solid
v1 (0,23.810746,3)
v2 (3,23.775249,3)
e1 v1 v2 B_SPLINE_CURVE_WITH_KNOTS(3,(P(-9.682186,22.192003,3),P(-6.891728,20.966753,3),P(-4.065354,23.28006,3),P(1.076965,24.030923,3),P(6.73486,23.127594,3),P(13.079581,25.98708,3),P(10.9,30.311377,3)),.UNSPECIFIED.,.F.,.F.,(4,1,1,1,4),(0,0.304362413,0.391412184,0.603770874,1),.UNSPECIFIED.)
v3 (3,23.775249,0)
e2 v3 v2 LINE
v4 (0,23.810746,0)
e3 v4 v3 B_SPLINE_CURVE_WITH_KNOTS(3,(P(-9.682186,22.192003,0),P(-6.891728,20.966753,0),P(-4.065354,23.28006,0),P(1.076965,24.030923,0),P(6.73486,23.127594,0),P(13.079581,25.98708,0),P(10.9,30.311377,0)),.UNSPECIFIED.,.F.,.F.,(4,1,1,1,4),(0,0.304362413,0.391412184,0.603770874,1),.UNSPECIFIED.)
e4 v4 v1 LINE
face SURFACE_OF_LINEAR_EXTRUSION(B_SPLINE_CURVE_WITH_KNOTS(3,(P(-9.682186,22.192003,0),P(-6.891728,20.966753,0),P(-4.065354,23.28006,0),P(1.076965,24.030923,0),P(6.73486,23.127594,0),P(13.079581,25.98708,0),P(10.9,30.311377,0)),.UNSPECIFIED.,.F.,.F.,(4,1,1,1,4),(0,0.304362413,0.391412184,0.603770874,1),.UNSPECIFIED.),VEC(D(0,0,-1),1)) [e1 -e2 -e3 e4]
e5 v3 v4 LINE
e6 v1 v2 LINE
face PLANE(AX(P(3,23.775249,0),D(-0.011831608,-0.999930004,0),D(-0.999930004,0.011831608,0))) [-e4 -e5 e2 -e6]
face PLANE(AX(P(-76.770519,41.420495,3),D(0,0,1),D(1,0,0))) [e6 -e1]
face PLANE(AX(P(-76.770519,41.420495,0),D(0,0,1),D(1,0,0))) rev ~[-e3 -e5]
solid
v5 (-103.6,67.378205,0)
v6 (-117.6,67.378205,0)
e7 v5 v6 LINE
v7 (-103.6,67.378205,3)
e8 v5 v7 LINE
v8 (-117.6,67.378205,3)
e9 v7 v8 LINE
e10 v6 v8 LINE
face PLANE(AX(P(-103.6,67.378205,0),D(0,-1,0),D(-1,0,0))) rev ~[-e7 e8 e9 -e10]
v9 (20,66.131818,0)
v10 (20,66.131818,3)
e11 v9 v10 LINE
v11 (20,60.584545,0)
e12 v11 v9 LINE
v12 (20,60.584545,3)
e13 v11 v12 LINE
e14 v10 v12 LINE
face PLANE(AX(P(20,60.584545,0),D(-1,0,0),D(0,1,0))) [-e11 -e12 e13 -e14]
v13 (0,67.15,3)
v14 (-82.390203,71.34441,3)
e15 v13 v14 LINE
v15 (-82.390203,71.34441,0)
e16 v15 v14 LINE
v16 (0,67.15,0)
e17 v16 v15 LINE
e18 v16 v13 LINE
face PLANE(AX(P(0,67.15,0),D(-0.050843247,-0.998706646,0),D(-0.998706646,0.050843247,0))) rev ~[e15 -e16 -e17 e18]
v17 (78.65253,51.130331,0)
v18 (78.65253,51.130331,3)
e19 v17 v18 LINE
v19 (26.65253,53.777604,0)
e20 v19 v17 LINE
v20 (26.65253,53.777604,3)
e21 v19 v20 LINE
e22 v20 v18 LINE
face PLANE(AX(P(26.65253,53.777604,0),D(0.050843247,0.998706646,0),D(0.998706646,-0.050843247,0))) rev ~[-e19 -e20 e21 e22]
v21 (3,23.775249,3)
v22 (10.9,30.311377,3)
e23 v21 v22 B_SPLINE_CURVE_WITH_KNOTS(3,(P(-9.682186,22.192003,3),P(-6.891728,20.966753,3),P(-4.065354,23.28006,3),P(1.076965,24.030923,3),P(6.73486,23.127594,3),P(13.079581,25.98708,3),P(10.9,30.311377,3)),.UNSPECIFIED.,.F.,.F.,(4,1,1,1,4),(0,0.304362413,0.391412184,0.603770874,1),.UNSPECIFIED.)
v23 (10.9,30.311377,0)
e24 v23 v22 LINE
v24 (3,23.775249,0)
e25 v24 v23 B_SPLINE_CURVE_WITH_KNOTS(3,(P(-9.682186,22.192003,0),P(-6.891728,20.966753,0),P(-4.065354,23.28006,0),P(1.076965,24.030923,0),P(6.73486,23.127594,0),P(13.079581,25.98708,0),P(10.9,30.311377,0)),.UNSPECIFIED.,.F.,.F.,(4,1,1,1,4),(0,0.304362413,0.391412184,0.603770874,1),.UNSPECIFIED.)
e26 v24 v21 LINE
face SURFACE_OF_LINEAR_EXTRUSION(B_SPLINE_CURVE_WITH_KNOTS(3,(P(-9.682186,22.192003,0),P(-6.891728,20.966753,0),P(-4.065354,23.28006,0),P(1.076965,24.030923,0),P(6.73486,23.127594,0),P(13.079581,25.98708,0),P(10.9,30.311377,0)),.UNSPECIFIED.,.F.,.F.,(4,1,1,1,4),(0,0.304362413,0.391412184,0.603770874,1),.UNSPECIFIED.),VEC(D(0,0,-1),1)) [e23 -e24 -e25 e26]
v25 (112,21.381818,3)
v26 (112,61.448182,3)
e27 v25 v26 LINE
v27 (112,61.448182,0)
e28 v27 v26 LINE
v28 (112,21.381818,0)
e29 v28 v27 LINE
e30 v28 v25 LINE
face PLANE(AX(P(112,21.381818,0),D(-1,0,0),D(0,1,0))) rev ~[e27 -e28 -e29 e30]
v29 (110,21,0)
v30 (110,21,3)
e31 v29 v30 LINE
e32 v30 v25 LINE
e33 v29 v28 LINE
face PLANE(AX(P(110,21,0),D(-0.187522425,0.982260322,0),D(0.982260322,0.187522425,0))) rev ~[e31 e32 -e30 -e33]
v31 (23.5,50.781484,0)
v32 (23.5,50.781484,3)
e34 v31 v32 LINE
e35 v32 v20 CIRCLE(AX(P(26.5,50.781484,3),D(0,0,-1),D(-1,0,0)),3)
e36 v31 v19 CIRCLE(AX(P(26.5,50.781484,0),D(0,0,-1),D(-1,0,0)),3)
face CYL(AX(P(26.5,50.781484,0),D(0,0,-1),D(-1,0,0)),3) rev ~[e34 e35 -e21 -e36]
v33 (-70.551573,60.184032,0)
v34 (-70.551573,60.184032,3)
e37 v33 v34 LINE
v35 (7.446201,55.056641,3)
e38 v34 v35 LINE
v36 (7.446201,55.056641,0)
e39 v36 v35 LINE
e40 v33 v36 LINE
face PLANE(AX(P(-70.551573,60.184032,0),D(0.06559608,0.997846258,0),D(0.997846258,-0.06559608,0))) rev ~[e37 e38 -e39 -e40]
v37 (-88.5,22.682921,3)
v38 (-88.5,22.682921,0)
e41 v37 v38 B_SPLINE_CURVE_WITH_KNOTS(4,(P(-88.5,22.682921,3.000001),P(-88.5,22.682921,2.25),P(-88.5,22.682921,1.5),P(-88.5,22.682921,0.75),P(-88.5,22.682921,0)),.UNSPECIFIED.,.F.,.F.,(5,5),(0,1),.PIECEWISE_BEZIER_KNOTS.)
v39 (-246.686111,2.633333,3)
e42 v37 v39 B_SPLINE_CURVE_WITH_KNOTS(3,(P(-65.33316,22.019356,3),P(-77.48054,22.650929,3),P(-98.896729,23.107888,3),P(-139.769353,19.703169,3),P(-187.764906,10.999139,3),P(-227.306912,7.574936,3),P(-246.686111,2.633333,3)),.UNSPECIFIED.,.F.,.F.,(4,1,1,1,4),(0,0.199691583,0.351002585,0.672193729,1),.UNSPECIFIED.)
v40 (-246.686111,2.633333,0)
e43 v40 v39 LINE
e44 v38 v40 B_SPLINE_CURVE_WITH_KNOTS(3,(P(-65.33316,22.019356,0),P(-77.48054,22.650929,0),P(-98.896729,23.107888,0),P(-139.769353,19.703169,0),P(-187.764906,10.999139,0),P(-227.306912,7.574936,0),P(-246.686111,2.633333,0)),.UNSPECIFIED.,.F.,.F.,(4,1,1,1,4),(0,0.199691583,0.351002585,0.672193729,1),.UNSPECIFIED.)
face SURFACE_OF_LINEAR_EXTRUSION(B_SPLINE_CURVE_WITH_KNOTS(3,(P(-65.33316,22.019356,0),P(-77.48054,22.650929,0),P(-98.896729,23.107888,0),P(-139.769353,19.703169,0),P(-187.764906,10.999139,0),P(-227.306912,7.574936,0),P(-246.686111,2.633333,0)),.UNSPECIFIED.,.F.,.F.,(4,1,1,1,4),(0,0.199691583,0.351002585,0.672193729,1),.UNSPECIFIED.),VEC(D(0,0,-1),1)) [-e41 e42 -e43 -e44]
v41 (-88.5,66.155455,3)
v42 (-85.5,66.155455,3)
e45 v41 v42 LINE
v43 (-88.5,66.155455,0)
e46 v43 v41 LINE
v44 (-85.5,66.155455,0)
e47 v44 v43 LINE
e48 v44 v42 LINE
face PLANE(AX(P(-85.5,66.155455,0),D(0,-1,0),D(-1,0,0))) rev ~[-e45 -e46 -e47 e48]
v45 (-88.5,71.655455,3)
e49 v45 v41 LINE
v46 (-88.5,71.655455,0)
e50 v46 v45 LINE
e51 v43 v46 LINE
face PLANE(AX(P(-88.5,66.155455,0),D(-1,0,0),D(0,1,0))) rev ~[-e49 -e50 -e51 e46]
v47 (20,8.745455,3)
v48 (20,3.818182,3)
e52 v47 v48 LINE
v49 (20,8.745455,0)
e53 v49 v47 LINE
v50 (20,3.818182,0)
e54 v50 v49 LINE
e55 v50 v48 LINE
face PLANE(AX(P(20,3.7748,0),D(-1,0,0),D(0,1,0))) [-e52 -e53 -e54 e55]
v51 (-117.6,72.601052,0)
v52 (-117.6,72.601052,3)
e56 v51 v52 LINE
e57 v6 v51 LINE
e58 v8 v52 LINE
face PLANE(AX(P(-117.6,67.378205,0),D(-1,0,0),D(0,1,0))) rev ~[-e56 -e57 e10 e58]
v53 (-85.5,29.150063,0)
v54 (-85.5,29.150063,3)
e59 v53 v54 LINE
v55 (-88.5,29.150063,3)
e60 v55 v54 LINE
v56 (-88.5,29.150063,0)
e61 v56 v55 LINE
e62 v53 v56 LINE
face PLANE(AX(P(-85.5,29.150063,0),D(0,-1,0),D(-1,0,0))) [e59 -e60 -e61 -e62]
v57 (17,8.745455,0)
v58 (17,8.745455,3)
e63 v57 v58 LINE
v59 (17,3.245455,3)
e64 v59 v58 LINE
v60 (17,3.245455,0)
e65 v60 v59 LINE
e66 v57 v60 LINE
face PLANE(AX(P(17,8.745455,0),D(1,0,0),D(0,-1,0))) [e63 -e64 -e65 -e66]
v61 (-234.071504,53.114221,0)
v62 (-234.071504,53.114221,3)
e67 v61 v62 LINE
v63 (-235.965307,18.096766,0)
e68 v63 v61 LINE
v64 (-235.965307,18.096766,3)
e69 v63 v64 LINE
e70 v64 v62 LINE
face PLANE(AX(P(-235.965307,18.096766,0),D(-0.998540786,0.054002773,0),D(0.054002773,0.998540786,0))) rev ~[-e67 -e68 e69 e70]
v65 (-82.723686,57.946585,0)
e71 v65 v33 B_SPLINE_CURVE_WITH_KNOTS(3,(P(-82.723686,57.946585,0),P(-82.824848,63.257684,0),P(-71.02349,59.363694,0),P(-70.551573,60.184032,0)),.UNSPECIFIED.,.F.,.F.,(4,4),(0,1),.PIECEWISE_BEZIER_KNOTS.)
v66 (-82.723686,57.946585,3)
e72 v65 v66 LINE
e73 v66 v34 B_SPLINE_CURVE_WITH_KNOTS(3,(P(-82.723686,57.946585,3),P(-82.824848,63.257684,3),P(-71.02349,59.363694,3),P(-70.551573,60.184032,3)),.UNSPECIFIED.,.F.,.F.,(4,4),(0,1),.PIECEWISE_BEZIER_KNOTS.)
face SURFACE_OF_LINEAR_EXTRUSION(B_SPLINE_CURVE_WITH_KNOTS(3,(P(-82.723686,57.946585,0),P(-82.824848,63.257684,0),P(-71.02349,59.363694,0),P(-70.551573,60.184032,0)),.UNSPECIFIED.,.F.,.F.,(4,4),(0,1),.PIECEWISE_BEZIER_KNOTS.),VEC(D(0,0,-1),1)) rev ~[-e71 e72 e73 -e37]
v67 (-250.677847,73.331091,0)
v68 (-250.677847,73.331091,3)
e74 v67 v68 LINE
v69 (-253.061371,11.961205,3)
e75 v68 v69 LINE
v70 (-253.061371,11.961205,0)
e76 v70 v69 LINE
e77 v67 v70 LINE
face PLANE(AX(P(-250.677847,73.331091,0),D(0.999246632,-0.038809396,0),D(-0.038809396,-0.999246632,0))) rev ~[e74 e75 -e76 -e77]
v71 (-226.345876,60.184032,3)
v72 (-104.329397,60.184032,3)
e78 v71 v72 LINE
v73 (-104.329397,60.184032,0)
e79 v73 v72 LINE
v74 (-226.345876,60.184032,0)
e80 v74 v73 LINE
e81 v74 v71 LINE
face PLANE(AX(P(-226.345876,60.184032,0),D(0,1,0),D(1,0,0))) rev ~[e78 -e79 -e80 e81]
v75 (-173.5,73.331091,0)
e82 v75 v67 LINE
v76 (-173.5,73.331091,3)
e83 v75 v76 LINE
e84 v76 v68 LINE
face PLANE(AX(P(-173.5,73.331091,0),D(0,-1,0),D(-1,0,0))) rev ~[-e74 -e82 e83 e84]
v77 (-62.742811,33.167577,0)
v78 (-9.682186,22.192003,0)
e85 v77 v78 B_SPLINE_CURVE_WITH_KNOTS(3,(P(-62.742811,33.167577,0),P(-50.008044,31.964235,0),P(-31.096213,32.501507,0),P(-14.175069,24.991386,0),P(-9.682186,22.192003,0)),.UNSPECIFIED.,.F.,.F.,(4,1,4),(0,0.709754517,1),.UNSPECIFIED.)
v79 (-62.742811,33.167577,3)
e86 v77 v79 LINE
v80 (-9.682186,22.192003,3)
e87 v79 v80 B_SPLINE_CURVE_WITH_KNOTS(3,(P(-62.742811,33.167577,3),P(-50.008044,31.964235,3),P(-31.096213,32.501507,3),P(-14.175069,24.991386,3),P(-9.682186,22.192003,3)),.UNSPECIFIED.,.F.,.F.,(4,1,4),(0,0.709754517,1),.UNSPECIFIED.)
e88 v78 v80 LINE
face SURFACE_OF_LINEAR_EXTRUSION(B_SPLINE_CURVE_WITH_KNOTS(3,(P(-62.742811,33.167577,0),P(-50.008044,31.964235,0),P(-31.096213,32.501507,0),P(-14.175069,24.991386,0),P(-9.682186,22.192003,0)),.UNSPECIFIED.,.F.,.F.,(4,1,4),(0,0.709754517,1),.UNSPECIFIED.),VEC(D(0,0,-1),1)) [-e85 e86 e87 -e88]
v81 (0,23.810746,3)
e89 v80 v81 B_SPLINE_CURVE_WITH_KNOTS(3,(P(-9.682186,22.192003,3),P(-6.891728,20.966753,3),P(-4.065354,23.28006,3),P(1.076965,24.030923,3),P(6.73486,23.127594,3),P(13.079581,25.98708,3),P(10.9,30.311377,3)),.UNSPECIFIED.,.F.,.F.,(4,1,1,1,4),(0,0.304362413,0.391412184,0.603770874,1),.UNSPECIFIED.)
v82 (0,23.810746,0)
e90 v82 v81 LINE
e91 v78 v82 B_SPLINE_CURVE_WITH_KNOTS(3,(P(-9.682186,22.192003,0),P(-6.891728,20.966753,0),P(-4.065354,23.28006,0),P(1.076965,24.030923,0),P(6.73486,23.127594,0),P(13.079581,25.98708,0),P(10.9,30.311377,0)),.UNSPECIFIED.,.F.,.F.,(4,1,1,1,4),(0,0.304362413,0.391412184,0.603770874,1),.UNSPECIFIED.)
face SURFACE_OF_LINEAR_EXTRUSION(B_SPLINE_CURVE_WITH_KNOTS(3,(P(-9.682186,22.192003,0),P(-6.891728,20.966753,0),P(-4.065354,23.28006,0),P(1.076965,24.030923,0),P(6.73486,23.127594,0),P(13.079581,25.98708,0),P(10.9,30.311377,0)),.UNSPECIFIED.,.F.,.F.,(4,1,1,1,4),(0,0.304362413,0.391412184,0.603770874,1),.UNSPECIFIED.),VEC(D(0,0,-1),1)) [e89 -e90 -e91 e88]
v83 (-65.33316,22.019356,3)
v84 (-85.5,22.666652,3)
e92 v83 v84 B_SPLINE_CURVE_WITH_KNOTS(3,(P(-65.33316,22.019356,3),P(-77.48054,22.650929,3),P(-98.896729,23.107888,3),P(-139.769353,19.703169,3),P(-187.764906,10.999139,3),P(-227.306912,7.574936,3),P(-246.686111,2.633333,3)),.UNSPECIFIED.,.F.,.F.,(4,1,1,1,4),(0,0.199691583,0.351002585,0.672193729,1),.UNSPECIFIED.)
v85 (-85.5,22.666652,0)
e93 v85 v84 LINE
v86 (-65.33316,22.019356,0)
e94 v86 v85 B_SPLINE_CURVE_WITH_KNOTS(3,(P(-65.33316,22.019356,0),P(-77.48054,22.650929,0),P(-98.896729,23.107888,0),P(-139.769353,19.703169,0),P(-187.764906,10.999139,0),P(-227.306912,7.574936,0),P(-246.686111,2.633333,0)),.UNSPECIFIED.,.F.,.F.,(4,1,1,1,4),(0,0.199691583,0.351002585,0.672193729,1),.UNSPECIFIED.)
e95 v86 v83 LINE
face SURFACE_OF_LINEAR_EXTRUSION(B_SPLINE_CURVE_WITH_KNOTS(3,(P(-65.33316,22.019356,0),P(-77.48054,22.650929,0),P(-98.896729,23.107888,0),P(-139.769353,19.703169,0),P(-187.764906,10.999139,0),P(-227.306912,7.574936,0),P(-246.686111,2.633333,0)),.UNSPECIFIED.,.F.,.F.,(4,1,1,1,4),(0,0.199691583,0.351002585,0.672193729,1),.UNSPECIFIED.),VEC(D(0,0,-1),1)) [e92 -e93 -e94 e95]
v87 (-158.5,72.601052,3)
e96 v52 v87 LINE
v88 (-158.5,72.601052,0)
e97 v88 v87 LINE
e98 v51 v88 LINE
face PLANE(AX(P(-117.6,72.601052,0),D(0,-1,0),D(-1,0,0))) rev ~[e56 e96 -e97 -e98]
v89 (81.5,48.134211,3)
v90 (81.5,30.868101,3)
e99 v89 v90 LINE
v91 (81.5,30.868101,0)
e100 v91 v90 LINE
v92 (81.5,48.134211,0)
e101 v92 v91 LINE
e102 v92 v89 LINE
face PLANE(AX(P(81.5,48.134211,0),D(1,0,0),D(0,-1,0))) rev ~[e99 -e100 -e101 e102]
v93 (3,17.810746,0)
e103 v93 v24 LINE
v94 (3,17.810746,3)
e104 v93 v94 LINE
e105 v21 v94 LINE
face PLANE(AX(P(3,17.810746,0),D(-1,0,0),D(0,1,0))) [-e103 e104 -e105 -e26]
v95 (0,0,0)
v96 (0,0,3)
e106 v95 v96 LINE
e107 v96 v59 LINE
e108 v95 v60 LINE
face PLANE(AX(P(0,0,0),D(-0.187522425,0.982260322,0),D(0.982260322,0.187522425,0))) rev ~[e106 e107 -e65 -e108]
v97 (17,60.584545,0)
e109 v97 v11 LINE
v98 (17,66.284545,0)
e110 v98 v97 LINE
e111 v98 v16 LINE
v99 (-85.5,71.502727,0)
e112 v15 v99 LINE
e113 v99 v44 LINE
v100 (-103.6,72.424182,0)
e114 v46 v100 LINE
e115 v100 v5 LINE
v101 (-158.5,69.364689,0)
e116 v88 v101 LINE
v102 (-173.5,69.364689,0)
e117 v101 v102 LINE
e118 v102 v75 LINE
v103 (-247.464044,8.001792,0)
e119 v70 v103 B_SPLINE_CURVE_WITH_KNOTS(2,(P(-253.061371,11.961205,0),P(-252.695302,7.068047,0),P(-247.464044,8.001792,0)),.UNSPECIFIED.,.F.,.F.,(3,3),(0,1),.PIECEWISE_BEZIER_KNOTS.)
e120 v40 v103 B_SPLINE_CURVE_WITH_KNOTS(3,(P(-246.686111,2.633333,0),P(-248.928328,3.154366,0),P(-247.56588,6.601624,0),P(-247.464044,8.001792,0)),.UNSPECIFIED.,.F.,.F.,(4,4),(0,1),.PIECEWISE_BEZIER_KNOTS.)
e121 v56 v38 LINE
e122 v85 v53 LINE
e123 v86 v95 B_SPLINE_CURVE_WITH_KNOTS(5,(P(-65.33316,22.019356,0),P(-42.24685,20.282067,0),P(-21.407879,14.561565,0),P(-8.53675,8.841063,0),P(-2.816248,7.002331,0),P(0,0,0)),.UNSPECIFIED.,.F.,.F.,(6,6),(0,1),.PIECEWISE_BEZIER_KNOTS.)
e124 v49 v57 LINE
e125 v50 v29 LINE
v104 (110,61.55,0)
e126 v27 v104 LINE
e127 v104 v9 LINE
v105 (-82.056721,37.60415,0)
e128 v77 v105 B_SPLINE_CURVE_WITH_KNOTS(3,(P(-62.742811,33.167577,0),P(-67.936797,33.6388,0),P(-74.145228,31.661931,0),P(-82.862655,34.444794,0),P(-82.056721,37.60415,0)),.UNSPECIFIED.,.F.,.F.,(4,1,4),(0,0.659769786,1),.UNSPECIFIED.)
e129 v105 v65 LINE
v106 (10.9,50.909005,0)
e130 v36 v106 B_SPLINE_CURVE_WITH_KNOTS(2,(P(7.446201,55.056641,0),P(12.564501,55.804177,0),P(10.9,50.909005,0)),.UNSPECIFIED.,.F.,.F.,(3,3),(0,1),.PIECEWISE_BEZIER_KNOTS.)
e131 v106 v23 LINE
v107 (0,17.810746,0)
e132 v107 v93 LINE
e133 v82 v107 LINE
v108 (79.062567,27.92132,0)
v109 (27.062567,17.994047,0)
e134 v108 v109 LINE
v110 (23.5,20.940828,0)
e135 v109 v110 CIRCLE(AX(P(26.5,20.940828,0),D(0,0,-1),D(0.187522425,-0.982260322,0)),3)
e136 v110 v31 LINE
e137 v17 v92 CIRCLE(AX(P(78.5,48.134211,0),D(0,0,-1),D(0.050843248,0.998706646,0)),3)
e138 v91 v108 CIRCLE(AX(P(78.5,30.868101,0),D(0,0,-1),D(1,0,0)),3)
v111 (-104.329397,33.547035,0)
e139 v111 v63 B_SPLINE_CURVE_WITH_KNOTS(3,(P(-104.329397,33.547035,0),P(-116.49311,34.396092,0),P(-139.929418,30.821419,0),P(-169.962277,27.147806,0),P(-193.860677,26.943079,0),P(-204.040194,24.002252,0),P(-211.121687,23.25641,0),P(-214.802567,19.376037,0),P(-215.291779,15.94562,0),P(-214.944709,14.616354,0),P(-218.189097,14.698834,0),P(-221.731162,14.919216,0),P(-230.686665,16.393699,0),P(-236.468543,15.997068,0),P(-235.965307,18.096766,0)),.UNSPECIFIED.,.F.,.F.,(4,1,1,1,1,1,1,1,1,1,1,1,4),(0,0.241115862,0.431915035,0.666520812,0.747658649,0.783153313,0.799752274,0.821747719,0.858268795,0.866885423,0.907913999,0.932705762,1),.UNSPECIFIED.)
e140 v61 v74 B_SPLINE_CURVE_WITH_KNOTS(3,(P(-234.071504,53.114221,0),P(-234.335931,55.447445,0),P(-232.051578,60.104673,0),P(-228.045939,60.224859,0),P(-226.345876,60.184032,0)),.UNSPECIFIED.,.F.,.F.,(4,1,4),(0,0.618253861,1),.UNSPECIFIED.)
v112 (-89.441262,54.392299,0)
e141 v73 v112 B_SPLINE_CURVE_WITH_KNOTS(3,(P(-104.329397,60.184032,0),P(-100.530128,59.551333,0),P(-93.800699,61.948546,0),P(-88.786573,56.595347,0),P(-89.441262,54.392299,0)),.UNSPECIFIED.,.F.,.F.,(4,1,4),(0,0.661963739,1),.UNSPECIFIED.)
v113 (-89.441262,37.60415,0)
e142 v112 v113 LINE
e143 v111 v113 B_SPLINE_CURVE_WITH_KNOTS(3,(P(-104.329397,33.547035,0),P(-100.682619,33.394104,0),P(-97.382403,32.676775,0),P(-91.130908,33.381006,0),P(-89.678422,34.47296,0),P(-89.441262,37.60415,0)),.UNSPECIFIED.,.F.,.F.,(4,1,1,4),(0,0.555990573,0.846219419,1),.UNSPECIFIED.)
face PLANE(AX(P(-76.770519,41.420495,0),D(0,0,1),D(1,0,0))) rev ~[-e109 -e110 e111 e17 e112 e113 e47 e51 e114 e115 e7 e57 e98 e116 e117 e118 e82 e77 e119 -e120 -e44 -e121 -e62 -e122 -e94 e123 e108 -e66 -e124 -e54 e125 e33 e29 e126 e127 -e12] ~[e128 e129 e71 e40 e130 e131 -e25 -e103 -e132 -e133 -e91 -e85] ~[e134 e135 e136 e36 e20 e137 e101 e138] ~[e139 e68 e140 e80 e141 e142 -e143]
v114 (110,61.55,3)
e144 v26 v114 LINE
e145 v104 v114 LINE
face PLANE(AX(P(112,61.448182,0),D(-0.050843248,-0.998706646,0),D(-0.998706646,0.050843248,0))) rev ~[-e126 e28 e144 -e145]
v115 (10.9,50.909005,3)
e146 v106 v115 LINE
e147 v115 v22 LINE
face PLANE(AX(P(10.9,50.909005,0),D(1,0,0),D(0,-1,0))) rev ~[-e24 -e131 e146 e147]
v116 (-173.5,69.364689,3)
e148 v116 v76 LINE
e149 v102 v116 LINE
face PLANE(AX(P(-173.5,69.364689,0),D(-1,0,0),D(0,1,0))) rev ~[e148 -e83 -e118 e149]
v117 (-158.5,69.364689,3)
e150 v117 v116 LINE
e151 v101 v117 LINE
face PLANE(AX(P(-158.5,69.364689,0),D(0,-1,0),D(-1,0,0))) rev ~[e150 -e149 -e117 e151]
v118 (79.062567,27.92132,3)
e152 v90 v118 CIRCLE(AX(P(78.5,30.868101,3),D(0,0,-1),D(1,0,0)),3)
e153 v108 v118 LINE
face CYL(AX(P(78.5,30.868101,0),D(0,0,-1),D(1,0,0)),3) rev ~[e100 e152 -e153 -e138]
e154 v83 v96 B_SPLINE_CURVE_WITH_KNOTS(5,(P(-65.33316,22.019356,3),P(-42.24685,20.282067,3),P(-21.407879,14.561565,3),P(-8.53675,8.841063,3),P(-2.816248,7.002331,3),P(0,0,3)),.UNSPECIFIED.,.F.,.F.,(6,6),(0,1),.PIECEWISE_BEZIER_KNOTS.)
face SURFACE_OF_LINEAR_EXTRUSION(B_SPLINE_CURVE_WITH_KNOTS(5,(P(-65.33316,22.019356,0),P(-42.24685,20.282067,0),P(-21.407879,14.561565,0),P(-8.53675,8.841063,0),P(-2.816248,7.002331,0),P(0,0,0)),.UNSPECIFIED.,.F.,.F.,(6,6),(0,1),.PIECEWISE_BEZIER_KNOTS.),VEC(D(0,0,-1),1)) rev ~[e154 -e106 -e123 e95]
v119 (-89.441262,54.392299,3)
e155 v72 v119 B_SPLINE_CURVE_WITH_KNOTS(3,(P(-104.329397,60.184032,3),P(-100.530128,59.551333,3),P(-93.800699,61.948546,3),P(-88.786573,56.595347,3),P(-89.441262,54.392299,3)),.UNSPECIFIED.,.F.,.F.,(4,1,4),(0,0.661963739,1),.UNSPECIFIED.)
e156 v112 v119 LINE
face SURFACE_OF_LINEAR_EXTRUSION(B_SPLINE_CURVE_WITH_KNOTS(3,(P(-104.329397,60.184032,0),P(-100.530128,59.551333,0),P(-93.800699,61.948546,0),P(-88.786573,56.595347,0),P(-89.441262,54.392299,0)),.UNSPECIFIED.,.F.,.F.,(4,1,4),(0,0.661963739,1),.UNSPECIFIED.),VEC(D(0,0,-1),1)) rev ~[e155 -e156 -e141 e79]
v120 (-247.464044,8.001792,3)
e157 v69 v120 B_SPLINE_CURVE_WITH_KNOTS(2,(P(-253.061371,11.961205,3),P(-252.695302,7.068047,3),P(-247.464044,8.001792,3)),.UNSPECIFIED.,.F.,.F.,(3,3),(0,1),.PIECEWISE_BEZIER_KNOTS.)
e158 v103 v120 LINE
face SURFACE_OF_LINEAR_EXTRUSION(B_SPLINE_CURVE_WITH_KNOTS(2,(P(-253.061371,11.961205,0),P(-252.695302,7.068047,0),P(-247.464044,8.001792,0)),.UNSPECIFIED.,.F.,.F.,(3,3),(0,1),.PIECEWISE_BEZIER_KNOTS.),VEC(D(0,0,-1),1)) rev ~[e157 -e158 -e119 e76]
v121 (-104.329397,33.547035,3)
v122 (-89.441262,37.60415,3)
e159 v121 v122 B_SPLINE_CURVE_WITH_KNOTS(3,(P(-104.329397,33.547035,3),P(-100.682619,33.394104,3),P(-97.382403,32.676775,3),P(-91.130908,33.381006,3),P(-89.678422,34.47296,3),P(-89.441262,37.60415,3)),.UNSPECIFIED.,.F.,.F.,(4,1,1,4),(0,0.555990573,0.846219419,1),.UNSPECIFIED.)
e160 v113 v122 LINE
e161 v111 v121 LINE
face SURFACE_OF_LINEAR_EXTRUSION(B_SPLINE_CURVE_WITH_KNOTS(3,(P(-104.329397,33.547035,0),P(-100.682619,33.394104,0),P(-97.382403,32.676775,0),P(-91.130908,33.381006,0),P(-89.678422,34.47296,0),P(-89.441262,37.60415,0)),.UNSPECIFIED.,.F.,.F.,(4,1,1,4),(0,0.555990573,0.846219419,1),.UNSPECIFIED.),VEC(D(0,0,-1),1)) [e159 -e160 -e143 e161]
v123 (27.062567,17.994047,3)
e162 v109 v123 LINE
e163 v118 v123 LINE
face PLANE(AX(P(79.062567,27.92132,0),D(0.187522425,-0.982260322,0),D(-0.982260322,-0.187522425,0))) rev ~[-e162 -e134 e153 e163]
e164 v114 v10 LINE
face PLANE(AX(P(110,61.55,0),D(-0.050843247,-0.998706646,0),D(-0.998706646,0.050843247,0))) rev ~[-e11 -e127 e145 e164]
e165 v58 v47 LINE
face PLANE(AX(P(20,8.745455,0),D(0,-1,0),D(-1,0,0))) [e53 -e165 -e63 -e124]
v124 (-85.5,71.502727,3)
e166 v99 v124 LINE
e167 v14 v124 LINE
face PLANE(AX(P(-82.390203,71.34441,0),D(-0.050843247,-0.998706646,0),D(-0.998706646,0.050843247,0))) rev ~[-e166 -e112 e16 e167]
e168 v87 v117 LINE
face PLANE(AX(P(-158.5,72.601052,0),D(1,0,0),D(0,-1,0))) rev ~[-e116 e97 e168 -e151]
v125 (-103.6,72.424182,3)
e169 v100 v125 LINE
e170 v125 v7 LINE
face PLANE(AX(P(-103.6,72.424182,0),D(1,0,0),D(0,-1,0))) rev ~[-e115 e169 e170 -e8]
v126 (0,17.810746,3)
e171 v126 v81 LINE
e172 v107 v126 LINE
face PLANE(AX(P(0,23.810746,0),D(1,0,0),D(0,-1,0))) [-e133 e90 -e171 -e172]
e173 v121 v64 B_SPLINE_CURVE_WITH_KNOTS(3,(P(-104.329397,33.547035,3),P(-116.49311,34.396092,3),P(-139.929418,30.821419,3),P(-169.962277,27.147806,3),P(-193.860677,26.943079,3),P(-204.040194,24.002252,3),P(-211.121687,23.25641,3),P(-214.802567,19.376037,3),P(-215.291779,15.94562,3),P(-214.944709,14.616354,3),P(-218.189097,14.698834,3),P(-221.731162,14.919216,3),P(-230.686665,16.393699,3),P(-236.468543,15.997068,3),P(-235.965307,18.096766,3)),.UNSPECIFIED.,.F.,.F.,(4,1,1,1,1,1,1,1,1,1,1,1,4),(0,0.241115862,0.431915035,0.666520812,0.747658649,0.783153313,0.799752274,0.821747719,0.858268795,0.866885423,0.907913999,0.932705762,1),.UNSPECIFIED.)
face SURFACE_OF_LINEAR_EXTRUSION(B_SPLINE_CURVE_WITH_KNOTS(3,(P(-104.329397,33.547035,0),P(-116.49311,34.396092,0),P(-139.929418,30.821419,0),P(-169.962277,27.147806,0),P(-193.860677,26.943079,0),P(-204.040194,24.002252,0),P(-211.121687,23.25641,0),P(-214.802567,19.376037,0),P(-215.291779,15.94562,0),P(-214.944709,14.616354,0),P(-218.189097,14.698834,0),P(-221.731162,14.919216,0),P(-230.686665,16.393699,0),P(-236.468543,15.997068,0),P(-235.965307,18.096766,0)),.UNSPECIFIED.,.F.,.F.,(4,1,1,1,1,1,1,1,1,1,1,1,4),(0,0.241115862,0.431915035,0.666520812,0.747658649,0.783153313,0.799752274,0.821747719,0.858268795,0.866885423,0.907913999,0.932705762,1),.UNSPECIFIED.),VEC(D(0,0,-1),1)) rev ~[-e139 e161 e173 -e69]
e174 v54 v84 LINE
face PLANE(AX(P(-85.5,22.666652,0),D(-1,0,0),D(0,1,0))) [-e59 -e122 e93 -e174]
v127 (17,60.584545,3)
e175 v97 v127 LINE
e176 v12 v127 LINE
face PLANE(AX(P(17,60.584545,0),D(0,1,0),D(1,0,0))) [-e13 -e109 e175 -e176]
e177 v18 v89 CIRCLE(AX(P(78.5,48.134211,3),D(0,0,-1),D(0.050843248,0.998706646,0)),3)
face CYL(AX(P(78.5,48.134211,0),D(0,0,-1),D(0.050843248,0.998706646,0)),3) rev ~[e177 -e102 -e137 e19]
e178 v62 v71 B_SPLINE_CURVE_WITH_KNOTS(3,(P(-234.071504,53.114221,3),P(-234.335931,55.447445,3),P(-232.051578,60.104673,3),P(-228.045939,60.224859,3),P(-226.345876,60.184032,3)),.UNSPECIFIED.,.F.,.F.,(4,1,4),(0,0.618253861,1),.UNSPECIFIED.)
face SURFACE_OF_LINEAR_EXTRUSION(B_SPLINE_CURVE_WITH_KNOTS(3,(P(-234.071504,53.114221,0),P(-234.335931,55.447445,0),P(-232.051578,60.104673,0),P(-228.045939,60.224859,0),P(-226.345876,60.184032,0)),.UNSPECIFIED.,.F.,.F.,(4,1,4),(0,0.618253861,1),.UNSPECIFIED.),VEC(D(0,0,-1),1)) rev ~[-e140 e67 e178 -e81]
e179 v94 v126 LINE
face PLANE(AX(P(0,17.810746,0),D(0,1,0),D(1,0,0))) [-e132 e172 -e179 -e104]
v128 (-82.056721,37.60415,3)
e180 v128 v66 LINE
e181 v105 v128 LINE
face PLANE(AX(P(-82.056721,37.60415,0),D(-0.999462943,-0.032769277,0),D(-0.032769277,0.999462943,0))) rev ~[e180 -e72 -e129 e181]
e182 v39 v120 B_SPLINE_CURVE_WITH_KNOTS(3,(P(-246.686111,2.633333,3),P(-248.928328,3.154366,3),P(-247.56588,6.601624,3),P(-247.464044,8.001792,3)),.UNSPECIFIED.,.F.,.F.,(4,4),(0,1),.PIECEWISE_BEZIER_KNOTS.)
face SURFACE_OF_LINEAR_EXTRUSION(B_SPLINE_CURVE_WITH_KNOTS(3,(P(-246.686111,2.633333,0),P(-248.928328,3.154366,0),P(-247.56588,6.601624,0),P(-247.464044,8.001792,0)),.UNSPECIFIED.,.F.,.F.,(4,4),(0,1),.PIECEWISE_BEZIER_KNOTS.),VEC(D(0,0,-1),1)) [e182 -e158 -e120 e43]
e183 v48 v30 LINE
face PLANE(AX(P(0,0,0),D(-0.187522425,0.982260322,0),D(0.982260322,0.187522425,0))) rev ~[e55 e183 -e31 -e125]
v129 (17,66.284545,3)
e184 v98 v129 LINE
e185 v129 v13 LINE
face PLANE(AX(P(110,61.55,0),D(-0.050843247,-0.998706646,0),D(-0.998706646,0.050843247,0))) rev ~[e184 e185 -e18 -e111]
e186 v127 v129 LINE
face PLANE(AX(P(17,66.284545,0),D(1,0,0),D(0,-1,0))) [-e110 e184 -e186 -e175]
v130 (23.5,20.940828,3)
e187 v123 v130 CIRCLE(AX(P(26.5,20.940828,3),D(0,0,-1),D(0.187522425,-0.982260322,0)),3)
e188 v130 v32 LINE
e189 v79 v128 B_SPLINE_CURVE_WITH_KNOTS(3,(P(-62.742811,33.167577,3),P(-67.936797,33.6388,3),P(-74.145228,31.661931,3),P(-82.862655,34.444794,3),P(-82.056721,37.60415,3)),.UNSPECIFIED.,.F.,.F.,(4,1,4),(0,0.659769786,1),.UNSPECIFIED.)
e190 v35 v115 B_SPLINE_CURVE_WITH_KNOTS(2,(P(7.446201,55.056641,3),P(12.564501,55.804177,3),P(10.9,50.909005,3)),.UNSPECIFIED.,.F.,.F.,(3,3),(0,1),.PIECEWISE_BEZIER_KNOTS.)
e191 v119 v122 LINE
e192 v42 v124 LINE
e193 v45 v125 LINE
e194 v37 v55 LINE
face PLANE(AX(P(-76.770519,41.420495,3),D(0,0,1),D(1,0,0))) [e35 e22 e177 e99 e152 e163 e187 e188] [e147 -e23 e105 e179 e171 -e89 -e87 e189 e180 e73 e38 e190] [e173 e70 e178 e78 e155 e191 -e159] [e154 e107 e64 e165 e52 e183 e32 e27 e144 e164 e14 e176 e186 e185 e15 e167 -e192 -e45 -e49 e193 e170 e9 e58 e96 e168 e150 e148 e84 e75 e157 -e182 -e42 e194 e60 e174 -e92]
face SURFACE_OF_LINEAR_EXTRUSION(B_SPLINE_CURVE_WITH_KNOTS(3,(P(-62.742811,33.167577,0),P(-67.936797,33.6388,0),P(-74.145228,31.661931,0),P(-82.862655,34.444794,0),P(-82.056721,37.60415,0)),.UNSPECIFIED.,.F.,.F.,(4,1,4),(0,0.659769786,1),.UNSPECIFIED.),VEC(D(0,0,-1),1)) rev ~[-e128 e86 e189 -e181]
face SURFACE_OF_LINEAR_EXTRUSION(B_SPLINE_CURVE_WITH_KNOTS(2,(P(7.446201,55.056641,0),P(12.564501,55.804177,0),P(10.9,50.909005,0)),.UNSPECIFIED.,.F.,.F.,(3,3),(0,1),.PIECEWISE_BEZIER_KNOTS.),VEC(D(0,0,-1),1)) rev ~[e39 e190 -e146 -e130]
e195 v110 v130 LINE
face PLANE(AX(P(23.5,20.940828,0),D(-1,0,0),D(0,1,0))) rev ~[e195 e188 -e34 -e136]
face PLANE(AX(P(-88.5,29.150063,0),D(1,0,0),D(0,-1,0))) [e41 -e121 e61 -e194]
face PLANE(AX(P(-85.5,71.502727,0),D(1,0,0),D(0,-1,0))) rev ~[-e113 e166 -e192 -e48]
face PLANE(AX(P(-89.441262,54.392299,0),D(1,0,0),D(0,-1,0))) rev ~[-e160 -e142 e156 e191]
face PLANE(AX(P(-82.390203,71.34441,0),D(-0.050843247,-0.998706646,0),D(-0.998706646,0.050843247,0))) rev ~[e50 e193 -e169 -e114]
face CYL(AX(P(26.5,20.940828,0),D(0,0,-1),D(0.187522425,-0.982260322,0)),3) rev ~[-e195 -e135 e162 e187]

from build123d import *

# Parameters (mm, degrees)
BOSS_EXTRUDE1_DEPTH = 3
CUT_EXTRUDE1_DEPTH  = 10


with BuildPart() as part:
    # Sketch2 → Boss-Extrude1 (new body)
    with BuildSketch(Plane.XY):
        with BuildLine():
            Line((0, 0), (110, 21))
            Line((110, 21), (112, 21.381818182))
            Line((112, 21.381818182), (112, 61.448181818))
            Line((112, 61.448181818), (110, 61.55))
            Line((110, 61.55), (0, 67.15))
            Line((0, 67.15), (-82.390203114, 71.34441034))
            Line((-82.390203114, 71.34441034), (-103.6, 72.424181818))
            Line((-103.6, 72.424181818), (-103.6, 67.37820483))
            Line((-103.6, 67.37820483), (-117.6, 67.37820483))
            Line((-117.6, 67.37820483), (-117.6, 72.601052263))
            Line((-117.6, 72.601052263), (-158.5, 72.601052263))
            Line((-158.5, 72.601052263), (-158.5, 69.364688627))
            Line((-158.5, 69.364688627), (-173.5, 69.364688627))
            Line((-173.5, 69.364688627), (-173.5, 73.331090951))
            Line((-173.5, 73.331090951), (-250.677847371, 73.331090951))
            Line((-250.677847371, 73.331090951), (-253.061371258, 11.961204736))
            add(Edge.make_bspline(
                [(-253.061371258, 11.961204736), (-252.695301584, 7.068046763), (-247.464044481, 8.001792052)],
                knots=[0, 0, 0, 1, 1, 1], degree=2))
            add(Edge.make_bspline(
                [(-246.686111499, 2.633333185), (-248.928327974, 3.154366263), (-247.565880058, 6.601623711), (-247.464044481, 8.001792052)],
                knots=[0, 0, 0, 0, 1, 1, 1, 1], degree=3))
            add(Edge.make_bspline(
                [(-65.333160353, 22.019355812), (-77.480540088, 22.650929106), (-98.896728943, 23.107888404), (-139.769352892, 19.70316867), (-187.764905902, 10.999138586), (-227.306911957, 7.574935575), (-246.686111499, 2.633333185)],
                knots=[0, 0, 0, 0, 0.199691583, 0.351002585, 0.672193729, 1, 1, 1, 1], degree=3))
            add(Edge.make_bspline(
                [(-65.333160353, 22.019355812), (-42.246849715, 20.282066996), (-21.407879052, 14.561565245), (-8.536750112, 8.841063495), (-2.816248361, 7.002330789), (0, 0)],
                knots=[0, 0, 0, 0, 0, 0, 1, 1, 1, 1, 1, 1], degree=5))
        make_face()
        with BuildLine():
            Line((-89.441261827, 54.392298884), (-89.441261827, 37.604150406))
            add(Edge.make_bspline(
                [(-104.329396805, 33.547035275), (-100.682618996, 33.394104005), (-97.382402753, 32.676775417), (-91.130908001, 33.381006052), (-89.678422418, 34.472960488), (-89.441261827, 37.604150406)],
                knots=[0, 0, 0, 0, 0.555990573, 0.846219419, 1, 1, 1, 1], degree=3))
            add(Edge.make_bspline(
                [(-104.329396805, 33.547035275), (-116.493109997, 34.396092023), (-139.929418179, 30.821418593), (-169.962277451, 27.14780605), (-193.860677461, 26.943078993), (-204.040193674, 24.002251793), (-211.121686975, 23.256409578), (-214.802567157, 19.37603681), (-215.291778777, 15.945620099), (-214.944708642, 14.616354017), (-218.189096905, 14.698834441), (-221.731161567, 14.919216265), (-230.68666506, 16.393699305), (-236.468542767, 15.997067549), (-235.965307072, 18.096765723)],
                knots=[0, 0, 0, 0, 0.241115862, 0.431915035, 0.666520812, 0.747658649, 0.783153313, 0.799752274, 0.821747719, 0.858268795, 0.866885423, 0.907913999, 0.932705762, 1, 1, 1, 1], degree=3))
            Line((-235.965307072, 18.096765723), (-234.071503912, 53.114221153))
            add(Edge.make_bspline(
                [(-234.071503912, 53.114221153), (-234.335930921, 55.447445444), (-232.051578262, 60.104673077), (-228.045938699, 60.224858547), (-226.345875639, 60.184031836)],
                knots=[0, 0, 0, 0, 0.618253861, 1, 1, 1, 1], degree=3))
            Line((-226.345875639, 60.184031836), (-104.329396805, 60.184031836))
            add(Edge.make_bspline(
                [(-104.329396805, 60.184031836), (-100.530128109, 59.551333425), (-93.80069914, 61.948546143), (-88.78657296, 56.595347424), (-89.441261827, 54.392298884)],
                knots=[0, 0, 0, 0, 0.661963739, 1, 1, 1, 1], degree=3))
        make_face(mode=Mode.SUBTRACT)
        with BuildLine():
            Line((-70.551573081, 60.184031836), (7.446201395, 55.056640509))
            add(Edge.make_bspline(
                [(7.446201395, 55.056640509), (12.564500916, 55.804176812), (10.9, 50.909005104)],
                knots=[0, 0, 0, 1, 1, 1], degree=2))
            Line((10.9, 50.909005104), (10.9, 30.311377022))
            add(Edge.make_bspline(
                [(-9.682185597, 22.192002613), (-6.891728171, 20.96675296), (-4.065354224, 23.28006022), (1.076965434, 24.030922879), (6.734860441, 23.127593713), (13.079581397, 25.987079624), (10.9, 30.311377022)],
                knots=[0, 0, 0, 0, 0.304362413, 0.391412184, 0.603770874, 1, 1, 1, 1], degree=3))
            add(Edge.make_bspline(
                [(-62.742811391, 33.167576806), (-50.008044132, 31.964235318), (-31.096212571, 32.501506515), (-14.175068968, 24.991386158), (-9.682185597, 22.192002613)],
                knots=[0, 0, 0, 0, 0.709754517, 1, 1, 1, 1], degree=3))
            add(Edge.make_bspline(
                [(-62.742811391, 33.167576806), (-67.936797189, 33.638800445), (-74.145228302, 31.661930968), (-82.862654784, 34.444793752), (-82.056720578, 37.604150406)],
                knots=[0, 0, 0, 0, 0.659769786, 1, 1, 1, 1], degree=3))
            Line((-82.056720578, 37.604150406), (-82.72368565, 57.946585111))
            add(Edge.make_bspline(
                [(-82.72368565, 57.946585111), (-82.824847935, 63.257683512), (-71.023490088, 59.363693918), (-70.551573081, 60.184031836)],
                knots=[0, 0, 0, 0, 1, 1, 1, 1], degree=3))
        make_face(mode=Mode.SUBTRACT)
        with BuildLine():
            Line((81.5, 48.134210925), (81.5, 30.868100536))
            ThreePointArc((81.5, 30.868100536), (80.811677078, 28.955994606), (79.062567275, 27.92131957))
            Line((79.062567275, 27.92131957), (27.062567275, 17.994046843))
            ThreePointArc((27.062567275, 17.994046843), (24.58789407, 18.629150731), (23.5, 20.940827809))
            Line((23.5, 20.940827809), (23.5, 50.781483653))
            ThreePointArc((23.5, 50.781483653), (24.433310525, 52.956062833), (26.652529742, 53.77760359))
            Line((26.652529742, 53.77760359), (78.652529742, 51.130330863))
            ThreePointArc((78.652529742, 51.130330863), (80.674579181, 50.2009004), (81.5, 48.134210925))
        make_face(mode=Mode.SUBTRACT)
    extrude(amount=BOSS_EXTRUDE1_DEPTH)

    # Sketch3 → Cut-Extrude1 (cut)
    with BuildSketch(Plane(origin=(0, 0, 0), x_dir=(-1, 0, 0), z_dir=(0, 0, -1))):
        Polygon((-17, 66.284545455), (-17, 60.584545455), (-20, 60.584545455), (-20, 66.131818182), align=None)
        Polygon((-17, 8.745454545), (-17, 3.245454545), (-20, 3.774800201), (-20, 8.745454545), align=None)
        Polygon((85.5, 71.502727273), (85.5, 66.155454545), (88.5, 66.155454545), (88.5, 71.655454545), align=None)
        Polygon((88.5, 29.150063041), (88.5, 22.550063041), (85.5, 22.666651642), (85.5, 29.150063041), align=None)
        Polygon((0, 23.810746374), (0, 17.810746374), (-3, 17.810746374), (-3, 23.775249064), align=None)
    extrude(amount=-CUT_EXTRUDE1_DEPTH, mode=Mode.SUBTRACT)


solid = part.part
